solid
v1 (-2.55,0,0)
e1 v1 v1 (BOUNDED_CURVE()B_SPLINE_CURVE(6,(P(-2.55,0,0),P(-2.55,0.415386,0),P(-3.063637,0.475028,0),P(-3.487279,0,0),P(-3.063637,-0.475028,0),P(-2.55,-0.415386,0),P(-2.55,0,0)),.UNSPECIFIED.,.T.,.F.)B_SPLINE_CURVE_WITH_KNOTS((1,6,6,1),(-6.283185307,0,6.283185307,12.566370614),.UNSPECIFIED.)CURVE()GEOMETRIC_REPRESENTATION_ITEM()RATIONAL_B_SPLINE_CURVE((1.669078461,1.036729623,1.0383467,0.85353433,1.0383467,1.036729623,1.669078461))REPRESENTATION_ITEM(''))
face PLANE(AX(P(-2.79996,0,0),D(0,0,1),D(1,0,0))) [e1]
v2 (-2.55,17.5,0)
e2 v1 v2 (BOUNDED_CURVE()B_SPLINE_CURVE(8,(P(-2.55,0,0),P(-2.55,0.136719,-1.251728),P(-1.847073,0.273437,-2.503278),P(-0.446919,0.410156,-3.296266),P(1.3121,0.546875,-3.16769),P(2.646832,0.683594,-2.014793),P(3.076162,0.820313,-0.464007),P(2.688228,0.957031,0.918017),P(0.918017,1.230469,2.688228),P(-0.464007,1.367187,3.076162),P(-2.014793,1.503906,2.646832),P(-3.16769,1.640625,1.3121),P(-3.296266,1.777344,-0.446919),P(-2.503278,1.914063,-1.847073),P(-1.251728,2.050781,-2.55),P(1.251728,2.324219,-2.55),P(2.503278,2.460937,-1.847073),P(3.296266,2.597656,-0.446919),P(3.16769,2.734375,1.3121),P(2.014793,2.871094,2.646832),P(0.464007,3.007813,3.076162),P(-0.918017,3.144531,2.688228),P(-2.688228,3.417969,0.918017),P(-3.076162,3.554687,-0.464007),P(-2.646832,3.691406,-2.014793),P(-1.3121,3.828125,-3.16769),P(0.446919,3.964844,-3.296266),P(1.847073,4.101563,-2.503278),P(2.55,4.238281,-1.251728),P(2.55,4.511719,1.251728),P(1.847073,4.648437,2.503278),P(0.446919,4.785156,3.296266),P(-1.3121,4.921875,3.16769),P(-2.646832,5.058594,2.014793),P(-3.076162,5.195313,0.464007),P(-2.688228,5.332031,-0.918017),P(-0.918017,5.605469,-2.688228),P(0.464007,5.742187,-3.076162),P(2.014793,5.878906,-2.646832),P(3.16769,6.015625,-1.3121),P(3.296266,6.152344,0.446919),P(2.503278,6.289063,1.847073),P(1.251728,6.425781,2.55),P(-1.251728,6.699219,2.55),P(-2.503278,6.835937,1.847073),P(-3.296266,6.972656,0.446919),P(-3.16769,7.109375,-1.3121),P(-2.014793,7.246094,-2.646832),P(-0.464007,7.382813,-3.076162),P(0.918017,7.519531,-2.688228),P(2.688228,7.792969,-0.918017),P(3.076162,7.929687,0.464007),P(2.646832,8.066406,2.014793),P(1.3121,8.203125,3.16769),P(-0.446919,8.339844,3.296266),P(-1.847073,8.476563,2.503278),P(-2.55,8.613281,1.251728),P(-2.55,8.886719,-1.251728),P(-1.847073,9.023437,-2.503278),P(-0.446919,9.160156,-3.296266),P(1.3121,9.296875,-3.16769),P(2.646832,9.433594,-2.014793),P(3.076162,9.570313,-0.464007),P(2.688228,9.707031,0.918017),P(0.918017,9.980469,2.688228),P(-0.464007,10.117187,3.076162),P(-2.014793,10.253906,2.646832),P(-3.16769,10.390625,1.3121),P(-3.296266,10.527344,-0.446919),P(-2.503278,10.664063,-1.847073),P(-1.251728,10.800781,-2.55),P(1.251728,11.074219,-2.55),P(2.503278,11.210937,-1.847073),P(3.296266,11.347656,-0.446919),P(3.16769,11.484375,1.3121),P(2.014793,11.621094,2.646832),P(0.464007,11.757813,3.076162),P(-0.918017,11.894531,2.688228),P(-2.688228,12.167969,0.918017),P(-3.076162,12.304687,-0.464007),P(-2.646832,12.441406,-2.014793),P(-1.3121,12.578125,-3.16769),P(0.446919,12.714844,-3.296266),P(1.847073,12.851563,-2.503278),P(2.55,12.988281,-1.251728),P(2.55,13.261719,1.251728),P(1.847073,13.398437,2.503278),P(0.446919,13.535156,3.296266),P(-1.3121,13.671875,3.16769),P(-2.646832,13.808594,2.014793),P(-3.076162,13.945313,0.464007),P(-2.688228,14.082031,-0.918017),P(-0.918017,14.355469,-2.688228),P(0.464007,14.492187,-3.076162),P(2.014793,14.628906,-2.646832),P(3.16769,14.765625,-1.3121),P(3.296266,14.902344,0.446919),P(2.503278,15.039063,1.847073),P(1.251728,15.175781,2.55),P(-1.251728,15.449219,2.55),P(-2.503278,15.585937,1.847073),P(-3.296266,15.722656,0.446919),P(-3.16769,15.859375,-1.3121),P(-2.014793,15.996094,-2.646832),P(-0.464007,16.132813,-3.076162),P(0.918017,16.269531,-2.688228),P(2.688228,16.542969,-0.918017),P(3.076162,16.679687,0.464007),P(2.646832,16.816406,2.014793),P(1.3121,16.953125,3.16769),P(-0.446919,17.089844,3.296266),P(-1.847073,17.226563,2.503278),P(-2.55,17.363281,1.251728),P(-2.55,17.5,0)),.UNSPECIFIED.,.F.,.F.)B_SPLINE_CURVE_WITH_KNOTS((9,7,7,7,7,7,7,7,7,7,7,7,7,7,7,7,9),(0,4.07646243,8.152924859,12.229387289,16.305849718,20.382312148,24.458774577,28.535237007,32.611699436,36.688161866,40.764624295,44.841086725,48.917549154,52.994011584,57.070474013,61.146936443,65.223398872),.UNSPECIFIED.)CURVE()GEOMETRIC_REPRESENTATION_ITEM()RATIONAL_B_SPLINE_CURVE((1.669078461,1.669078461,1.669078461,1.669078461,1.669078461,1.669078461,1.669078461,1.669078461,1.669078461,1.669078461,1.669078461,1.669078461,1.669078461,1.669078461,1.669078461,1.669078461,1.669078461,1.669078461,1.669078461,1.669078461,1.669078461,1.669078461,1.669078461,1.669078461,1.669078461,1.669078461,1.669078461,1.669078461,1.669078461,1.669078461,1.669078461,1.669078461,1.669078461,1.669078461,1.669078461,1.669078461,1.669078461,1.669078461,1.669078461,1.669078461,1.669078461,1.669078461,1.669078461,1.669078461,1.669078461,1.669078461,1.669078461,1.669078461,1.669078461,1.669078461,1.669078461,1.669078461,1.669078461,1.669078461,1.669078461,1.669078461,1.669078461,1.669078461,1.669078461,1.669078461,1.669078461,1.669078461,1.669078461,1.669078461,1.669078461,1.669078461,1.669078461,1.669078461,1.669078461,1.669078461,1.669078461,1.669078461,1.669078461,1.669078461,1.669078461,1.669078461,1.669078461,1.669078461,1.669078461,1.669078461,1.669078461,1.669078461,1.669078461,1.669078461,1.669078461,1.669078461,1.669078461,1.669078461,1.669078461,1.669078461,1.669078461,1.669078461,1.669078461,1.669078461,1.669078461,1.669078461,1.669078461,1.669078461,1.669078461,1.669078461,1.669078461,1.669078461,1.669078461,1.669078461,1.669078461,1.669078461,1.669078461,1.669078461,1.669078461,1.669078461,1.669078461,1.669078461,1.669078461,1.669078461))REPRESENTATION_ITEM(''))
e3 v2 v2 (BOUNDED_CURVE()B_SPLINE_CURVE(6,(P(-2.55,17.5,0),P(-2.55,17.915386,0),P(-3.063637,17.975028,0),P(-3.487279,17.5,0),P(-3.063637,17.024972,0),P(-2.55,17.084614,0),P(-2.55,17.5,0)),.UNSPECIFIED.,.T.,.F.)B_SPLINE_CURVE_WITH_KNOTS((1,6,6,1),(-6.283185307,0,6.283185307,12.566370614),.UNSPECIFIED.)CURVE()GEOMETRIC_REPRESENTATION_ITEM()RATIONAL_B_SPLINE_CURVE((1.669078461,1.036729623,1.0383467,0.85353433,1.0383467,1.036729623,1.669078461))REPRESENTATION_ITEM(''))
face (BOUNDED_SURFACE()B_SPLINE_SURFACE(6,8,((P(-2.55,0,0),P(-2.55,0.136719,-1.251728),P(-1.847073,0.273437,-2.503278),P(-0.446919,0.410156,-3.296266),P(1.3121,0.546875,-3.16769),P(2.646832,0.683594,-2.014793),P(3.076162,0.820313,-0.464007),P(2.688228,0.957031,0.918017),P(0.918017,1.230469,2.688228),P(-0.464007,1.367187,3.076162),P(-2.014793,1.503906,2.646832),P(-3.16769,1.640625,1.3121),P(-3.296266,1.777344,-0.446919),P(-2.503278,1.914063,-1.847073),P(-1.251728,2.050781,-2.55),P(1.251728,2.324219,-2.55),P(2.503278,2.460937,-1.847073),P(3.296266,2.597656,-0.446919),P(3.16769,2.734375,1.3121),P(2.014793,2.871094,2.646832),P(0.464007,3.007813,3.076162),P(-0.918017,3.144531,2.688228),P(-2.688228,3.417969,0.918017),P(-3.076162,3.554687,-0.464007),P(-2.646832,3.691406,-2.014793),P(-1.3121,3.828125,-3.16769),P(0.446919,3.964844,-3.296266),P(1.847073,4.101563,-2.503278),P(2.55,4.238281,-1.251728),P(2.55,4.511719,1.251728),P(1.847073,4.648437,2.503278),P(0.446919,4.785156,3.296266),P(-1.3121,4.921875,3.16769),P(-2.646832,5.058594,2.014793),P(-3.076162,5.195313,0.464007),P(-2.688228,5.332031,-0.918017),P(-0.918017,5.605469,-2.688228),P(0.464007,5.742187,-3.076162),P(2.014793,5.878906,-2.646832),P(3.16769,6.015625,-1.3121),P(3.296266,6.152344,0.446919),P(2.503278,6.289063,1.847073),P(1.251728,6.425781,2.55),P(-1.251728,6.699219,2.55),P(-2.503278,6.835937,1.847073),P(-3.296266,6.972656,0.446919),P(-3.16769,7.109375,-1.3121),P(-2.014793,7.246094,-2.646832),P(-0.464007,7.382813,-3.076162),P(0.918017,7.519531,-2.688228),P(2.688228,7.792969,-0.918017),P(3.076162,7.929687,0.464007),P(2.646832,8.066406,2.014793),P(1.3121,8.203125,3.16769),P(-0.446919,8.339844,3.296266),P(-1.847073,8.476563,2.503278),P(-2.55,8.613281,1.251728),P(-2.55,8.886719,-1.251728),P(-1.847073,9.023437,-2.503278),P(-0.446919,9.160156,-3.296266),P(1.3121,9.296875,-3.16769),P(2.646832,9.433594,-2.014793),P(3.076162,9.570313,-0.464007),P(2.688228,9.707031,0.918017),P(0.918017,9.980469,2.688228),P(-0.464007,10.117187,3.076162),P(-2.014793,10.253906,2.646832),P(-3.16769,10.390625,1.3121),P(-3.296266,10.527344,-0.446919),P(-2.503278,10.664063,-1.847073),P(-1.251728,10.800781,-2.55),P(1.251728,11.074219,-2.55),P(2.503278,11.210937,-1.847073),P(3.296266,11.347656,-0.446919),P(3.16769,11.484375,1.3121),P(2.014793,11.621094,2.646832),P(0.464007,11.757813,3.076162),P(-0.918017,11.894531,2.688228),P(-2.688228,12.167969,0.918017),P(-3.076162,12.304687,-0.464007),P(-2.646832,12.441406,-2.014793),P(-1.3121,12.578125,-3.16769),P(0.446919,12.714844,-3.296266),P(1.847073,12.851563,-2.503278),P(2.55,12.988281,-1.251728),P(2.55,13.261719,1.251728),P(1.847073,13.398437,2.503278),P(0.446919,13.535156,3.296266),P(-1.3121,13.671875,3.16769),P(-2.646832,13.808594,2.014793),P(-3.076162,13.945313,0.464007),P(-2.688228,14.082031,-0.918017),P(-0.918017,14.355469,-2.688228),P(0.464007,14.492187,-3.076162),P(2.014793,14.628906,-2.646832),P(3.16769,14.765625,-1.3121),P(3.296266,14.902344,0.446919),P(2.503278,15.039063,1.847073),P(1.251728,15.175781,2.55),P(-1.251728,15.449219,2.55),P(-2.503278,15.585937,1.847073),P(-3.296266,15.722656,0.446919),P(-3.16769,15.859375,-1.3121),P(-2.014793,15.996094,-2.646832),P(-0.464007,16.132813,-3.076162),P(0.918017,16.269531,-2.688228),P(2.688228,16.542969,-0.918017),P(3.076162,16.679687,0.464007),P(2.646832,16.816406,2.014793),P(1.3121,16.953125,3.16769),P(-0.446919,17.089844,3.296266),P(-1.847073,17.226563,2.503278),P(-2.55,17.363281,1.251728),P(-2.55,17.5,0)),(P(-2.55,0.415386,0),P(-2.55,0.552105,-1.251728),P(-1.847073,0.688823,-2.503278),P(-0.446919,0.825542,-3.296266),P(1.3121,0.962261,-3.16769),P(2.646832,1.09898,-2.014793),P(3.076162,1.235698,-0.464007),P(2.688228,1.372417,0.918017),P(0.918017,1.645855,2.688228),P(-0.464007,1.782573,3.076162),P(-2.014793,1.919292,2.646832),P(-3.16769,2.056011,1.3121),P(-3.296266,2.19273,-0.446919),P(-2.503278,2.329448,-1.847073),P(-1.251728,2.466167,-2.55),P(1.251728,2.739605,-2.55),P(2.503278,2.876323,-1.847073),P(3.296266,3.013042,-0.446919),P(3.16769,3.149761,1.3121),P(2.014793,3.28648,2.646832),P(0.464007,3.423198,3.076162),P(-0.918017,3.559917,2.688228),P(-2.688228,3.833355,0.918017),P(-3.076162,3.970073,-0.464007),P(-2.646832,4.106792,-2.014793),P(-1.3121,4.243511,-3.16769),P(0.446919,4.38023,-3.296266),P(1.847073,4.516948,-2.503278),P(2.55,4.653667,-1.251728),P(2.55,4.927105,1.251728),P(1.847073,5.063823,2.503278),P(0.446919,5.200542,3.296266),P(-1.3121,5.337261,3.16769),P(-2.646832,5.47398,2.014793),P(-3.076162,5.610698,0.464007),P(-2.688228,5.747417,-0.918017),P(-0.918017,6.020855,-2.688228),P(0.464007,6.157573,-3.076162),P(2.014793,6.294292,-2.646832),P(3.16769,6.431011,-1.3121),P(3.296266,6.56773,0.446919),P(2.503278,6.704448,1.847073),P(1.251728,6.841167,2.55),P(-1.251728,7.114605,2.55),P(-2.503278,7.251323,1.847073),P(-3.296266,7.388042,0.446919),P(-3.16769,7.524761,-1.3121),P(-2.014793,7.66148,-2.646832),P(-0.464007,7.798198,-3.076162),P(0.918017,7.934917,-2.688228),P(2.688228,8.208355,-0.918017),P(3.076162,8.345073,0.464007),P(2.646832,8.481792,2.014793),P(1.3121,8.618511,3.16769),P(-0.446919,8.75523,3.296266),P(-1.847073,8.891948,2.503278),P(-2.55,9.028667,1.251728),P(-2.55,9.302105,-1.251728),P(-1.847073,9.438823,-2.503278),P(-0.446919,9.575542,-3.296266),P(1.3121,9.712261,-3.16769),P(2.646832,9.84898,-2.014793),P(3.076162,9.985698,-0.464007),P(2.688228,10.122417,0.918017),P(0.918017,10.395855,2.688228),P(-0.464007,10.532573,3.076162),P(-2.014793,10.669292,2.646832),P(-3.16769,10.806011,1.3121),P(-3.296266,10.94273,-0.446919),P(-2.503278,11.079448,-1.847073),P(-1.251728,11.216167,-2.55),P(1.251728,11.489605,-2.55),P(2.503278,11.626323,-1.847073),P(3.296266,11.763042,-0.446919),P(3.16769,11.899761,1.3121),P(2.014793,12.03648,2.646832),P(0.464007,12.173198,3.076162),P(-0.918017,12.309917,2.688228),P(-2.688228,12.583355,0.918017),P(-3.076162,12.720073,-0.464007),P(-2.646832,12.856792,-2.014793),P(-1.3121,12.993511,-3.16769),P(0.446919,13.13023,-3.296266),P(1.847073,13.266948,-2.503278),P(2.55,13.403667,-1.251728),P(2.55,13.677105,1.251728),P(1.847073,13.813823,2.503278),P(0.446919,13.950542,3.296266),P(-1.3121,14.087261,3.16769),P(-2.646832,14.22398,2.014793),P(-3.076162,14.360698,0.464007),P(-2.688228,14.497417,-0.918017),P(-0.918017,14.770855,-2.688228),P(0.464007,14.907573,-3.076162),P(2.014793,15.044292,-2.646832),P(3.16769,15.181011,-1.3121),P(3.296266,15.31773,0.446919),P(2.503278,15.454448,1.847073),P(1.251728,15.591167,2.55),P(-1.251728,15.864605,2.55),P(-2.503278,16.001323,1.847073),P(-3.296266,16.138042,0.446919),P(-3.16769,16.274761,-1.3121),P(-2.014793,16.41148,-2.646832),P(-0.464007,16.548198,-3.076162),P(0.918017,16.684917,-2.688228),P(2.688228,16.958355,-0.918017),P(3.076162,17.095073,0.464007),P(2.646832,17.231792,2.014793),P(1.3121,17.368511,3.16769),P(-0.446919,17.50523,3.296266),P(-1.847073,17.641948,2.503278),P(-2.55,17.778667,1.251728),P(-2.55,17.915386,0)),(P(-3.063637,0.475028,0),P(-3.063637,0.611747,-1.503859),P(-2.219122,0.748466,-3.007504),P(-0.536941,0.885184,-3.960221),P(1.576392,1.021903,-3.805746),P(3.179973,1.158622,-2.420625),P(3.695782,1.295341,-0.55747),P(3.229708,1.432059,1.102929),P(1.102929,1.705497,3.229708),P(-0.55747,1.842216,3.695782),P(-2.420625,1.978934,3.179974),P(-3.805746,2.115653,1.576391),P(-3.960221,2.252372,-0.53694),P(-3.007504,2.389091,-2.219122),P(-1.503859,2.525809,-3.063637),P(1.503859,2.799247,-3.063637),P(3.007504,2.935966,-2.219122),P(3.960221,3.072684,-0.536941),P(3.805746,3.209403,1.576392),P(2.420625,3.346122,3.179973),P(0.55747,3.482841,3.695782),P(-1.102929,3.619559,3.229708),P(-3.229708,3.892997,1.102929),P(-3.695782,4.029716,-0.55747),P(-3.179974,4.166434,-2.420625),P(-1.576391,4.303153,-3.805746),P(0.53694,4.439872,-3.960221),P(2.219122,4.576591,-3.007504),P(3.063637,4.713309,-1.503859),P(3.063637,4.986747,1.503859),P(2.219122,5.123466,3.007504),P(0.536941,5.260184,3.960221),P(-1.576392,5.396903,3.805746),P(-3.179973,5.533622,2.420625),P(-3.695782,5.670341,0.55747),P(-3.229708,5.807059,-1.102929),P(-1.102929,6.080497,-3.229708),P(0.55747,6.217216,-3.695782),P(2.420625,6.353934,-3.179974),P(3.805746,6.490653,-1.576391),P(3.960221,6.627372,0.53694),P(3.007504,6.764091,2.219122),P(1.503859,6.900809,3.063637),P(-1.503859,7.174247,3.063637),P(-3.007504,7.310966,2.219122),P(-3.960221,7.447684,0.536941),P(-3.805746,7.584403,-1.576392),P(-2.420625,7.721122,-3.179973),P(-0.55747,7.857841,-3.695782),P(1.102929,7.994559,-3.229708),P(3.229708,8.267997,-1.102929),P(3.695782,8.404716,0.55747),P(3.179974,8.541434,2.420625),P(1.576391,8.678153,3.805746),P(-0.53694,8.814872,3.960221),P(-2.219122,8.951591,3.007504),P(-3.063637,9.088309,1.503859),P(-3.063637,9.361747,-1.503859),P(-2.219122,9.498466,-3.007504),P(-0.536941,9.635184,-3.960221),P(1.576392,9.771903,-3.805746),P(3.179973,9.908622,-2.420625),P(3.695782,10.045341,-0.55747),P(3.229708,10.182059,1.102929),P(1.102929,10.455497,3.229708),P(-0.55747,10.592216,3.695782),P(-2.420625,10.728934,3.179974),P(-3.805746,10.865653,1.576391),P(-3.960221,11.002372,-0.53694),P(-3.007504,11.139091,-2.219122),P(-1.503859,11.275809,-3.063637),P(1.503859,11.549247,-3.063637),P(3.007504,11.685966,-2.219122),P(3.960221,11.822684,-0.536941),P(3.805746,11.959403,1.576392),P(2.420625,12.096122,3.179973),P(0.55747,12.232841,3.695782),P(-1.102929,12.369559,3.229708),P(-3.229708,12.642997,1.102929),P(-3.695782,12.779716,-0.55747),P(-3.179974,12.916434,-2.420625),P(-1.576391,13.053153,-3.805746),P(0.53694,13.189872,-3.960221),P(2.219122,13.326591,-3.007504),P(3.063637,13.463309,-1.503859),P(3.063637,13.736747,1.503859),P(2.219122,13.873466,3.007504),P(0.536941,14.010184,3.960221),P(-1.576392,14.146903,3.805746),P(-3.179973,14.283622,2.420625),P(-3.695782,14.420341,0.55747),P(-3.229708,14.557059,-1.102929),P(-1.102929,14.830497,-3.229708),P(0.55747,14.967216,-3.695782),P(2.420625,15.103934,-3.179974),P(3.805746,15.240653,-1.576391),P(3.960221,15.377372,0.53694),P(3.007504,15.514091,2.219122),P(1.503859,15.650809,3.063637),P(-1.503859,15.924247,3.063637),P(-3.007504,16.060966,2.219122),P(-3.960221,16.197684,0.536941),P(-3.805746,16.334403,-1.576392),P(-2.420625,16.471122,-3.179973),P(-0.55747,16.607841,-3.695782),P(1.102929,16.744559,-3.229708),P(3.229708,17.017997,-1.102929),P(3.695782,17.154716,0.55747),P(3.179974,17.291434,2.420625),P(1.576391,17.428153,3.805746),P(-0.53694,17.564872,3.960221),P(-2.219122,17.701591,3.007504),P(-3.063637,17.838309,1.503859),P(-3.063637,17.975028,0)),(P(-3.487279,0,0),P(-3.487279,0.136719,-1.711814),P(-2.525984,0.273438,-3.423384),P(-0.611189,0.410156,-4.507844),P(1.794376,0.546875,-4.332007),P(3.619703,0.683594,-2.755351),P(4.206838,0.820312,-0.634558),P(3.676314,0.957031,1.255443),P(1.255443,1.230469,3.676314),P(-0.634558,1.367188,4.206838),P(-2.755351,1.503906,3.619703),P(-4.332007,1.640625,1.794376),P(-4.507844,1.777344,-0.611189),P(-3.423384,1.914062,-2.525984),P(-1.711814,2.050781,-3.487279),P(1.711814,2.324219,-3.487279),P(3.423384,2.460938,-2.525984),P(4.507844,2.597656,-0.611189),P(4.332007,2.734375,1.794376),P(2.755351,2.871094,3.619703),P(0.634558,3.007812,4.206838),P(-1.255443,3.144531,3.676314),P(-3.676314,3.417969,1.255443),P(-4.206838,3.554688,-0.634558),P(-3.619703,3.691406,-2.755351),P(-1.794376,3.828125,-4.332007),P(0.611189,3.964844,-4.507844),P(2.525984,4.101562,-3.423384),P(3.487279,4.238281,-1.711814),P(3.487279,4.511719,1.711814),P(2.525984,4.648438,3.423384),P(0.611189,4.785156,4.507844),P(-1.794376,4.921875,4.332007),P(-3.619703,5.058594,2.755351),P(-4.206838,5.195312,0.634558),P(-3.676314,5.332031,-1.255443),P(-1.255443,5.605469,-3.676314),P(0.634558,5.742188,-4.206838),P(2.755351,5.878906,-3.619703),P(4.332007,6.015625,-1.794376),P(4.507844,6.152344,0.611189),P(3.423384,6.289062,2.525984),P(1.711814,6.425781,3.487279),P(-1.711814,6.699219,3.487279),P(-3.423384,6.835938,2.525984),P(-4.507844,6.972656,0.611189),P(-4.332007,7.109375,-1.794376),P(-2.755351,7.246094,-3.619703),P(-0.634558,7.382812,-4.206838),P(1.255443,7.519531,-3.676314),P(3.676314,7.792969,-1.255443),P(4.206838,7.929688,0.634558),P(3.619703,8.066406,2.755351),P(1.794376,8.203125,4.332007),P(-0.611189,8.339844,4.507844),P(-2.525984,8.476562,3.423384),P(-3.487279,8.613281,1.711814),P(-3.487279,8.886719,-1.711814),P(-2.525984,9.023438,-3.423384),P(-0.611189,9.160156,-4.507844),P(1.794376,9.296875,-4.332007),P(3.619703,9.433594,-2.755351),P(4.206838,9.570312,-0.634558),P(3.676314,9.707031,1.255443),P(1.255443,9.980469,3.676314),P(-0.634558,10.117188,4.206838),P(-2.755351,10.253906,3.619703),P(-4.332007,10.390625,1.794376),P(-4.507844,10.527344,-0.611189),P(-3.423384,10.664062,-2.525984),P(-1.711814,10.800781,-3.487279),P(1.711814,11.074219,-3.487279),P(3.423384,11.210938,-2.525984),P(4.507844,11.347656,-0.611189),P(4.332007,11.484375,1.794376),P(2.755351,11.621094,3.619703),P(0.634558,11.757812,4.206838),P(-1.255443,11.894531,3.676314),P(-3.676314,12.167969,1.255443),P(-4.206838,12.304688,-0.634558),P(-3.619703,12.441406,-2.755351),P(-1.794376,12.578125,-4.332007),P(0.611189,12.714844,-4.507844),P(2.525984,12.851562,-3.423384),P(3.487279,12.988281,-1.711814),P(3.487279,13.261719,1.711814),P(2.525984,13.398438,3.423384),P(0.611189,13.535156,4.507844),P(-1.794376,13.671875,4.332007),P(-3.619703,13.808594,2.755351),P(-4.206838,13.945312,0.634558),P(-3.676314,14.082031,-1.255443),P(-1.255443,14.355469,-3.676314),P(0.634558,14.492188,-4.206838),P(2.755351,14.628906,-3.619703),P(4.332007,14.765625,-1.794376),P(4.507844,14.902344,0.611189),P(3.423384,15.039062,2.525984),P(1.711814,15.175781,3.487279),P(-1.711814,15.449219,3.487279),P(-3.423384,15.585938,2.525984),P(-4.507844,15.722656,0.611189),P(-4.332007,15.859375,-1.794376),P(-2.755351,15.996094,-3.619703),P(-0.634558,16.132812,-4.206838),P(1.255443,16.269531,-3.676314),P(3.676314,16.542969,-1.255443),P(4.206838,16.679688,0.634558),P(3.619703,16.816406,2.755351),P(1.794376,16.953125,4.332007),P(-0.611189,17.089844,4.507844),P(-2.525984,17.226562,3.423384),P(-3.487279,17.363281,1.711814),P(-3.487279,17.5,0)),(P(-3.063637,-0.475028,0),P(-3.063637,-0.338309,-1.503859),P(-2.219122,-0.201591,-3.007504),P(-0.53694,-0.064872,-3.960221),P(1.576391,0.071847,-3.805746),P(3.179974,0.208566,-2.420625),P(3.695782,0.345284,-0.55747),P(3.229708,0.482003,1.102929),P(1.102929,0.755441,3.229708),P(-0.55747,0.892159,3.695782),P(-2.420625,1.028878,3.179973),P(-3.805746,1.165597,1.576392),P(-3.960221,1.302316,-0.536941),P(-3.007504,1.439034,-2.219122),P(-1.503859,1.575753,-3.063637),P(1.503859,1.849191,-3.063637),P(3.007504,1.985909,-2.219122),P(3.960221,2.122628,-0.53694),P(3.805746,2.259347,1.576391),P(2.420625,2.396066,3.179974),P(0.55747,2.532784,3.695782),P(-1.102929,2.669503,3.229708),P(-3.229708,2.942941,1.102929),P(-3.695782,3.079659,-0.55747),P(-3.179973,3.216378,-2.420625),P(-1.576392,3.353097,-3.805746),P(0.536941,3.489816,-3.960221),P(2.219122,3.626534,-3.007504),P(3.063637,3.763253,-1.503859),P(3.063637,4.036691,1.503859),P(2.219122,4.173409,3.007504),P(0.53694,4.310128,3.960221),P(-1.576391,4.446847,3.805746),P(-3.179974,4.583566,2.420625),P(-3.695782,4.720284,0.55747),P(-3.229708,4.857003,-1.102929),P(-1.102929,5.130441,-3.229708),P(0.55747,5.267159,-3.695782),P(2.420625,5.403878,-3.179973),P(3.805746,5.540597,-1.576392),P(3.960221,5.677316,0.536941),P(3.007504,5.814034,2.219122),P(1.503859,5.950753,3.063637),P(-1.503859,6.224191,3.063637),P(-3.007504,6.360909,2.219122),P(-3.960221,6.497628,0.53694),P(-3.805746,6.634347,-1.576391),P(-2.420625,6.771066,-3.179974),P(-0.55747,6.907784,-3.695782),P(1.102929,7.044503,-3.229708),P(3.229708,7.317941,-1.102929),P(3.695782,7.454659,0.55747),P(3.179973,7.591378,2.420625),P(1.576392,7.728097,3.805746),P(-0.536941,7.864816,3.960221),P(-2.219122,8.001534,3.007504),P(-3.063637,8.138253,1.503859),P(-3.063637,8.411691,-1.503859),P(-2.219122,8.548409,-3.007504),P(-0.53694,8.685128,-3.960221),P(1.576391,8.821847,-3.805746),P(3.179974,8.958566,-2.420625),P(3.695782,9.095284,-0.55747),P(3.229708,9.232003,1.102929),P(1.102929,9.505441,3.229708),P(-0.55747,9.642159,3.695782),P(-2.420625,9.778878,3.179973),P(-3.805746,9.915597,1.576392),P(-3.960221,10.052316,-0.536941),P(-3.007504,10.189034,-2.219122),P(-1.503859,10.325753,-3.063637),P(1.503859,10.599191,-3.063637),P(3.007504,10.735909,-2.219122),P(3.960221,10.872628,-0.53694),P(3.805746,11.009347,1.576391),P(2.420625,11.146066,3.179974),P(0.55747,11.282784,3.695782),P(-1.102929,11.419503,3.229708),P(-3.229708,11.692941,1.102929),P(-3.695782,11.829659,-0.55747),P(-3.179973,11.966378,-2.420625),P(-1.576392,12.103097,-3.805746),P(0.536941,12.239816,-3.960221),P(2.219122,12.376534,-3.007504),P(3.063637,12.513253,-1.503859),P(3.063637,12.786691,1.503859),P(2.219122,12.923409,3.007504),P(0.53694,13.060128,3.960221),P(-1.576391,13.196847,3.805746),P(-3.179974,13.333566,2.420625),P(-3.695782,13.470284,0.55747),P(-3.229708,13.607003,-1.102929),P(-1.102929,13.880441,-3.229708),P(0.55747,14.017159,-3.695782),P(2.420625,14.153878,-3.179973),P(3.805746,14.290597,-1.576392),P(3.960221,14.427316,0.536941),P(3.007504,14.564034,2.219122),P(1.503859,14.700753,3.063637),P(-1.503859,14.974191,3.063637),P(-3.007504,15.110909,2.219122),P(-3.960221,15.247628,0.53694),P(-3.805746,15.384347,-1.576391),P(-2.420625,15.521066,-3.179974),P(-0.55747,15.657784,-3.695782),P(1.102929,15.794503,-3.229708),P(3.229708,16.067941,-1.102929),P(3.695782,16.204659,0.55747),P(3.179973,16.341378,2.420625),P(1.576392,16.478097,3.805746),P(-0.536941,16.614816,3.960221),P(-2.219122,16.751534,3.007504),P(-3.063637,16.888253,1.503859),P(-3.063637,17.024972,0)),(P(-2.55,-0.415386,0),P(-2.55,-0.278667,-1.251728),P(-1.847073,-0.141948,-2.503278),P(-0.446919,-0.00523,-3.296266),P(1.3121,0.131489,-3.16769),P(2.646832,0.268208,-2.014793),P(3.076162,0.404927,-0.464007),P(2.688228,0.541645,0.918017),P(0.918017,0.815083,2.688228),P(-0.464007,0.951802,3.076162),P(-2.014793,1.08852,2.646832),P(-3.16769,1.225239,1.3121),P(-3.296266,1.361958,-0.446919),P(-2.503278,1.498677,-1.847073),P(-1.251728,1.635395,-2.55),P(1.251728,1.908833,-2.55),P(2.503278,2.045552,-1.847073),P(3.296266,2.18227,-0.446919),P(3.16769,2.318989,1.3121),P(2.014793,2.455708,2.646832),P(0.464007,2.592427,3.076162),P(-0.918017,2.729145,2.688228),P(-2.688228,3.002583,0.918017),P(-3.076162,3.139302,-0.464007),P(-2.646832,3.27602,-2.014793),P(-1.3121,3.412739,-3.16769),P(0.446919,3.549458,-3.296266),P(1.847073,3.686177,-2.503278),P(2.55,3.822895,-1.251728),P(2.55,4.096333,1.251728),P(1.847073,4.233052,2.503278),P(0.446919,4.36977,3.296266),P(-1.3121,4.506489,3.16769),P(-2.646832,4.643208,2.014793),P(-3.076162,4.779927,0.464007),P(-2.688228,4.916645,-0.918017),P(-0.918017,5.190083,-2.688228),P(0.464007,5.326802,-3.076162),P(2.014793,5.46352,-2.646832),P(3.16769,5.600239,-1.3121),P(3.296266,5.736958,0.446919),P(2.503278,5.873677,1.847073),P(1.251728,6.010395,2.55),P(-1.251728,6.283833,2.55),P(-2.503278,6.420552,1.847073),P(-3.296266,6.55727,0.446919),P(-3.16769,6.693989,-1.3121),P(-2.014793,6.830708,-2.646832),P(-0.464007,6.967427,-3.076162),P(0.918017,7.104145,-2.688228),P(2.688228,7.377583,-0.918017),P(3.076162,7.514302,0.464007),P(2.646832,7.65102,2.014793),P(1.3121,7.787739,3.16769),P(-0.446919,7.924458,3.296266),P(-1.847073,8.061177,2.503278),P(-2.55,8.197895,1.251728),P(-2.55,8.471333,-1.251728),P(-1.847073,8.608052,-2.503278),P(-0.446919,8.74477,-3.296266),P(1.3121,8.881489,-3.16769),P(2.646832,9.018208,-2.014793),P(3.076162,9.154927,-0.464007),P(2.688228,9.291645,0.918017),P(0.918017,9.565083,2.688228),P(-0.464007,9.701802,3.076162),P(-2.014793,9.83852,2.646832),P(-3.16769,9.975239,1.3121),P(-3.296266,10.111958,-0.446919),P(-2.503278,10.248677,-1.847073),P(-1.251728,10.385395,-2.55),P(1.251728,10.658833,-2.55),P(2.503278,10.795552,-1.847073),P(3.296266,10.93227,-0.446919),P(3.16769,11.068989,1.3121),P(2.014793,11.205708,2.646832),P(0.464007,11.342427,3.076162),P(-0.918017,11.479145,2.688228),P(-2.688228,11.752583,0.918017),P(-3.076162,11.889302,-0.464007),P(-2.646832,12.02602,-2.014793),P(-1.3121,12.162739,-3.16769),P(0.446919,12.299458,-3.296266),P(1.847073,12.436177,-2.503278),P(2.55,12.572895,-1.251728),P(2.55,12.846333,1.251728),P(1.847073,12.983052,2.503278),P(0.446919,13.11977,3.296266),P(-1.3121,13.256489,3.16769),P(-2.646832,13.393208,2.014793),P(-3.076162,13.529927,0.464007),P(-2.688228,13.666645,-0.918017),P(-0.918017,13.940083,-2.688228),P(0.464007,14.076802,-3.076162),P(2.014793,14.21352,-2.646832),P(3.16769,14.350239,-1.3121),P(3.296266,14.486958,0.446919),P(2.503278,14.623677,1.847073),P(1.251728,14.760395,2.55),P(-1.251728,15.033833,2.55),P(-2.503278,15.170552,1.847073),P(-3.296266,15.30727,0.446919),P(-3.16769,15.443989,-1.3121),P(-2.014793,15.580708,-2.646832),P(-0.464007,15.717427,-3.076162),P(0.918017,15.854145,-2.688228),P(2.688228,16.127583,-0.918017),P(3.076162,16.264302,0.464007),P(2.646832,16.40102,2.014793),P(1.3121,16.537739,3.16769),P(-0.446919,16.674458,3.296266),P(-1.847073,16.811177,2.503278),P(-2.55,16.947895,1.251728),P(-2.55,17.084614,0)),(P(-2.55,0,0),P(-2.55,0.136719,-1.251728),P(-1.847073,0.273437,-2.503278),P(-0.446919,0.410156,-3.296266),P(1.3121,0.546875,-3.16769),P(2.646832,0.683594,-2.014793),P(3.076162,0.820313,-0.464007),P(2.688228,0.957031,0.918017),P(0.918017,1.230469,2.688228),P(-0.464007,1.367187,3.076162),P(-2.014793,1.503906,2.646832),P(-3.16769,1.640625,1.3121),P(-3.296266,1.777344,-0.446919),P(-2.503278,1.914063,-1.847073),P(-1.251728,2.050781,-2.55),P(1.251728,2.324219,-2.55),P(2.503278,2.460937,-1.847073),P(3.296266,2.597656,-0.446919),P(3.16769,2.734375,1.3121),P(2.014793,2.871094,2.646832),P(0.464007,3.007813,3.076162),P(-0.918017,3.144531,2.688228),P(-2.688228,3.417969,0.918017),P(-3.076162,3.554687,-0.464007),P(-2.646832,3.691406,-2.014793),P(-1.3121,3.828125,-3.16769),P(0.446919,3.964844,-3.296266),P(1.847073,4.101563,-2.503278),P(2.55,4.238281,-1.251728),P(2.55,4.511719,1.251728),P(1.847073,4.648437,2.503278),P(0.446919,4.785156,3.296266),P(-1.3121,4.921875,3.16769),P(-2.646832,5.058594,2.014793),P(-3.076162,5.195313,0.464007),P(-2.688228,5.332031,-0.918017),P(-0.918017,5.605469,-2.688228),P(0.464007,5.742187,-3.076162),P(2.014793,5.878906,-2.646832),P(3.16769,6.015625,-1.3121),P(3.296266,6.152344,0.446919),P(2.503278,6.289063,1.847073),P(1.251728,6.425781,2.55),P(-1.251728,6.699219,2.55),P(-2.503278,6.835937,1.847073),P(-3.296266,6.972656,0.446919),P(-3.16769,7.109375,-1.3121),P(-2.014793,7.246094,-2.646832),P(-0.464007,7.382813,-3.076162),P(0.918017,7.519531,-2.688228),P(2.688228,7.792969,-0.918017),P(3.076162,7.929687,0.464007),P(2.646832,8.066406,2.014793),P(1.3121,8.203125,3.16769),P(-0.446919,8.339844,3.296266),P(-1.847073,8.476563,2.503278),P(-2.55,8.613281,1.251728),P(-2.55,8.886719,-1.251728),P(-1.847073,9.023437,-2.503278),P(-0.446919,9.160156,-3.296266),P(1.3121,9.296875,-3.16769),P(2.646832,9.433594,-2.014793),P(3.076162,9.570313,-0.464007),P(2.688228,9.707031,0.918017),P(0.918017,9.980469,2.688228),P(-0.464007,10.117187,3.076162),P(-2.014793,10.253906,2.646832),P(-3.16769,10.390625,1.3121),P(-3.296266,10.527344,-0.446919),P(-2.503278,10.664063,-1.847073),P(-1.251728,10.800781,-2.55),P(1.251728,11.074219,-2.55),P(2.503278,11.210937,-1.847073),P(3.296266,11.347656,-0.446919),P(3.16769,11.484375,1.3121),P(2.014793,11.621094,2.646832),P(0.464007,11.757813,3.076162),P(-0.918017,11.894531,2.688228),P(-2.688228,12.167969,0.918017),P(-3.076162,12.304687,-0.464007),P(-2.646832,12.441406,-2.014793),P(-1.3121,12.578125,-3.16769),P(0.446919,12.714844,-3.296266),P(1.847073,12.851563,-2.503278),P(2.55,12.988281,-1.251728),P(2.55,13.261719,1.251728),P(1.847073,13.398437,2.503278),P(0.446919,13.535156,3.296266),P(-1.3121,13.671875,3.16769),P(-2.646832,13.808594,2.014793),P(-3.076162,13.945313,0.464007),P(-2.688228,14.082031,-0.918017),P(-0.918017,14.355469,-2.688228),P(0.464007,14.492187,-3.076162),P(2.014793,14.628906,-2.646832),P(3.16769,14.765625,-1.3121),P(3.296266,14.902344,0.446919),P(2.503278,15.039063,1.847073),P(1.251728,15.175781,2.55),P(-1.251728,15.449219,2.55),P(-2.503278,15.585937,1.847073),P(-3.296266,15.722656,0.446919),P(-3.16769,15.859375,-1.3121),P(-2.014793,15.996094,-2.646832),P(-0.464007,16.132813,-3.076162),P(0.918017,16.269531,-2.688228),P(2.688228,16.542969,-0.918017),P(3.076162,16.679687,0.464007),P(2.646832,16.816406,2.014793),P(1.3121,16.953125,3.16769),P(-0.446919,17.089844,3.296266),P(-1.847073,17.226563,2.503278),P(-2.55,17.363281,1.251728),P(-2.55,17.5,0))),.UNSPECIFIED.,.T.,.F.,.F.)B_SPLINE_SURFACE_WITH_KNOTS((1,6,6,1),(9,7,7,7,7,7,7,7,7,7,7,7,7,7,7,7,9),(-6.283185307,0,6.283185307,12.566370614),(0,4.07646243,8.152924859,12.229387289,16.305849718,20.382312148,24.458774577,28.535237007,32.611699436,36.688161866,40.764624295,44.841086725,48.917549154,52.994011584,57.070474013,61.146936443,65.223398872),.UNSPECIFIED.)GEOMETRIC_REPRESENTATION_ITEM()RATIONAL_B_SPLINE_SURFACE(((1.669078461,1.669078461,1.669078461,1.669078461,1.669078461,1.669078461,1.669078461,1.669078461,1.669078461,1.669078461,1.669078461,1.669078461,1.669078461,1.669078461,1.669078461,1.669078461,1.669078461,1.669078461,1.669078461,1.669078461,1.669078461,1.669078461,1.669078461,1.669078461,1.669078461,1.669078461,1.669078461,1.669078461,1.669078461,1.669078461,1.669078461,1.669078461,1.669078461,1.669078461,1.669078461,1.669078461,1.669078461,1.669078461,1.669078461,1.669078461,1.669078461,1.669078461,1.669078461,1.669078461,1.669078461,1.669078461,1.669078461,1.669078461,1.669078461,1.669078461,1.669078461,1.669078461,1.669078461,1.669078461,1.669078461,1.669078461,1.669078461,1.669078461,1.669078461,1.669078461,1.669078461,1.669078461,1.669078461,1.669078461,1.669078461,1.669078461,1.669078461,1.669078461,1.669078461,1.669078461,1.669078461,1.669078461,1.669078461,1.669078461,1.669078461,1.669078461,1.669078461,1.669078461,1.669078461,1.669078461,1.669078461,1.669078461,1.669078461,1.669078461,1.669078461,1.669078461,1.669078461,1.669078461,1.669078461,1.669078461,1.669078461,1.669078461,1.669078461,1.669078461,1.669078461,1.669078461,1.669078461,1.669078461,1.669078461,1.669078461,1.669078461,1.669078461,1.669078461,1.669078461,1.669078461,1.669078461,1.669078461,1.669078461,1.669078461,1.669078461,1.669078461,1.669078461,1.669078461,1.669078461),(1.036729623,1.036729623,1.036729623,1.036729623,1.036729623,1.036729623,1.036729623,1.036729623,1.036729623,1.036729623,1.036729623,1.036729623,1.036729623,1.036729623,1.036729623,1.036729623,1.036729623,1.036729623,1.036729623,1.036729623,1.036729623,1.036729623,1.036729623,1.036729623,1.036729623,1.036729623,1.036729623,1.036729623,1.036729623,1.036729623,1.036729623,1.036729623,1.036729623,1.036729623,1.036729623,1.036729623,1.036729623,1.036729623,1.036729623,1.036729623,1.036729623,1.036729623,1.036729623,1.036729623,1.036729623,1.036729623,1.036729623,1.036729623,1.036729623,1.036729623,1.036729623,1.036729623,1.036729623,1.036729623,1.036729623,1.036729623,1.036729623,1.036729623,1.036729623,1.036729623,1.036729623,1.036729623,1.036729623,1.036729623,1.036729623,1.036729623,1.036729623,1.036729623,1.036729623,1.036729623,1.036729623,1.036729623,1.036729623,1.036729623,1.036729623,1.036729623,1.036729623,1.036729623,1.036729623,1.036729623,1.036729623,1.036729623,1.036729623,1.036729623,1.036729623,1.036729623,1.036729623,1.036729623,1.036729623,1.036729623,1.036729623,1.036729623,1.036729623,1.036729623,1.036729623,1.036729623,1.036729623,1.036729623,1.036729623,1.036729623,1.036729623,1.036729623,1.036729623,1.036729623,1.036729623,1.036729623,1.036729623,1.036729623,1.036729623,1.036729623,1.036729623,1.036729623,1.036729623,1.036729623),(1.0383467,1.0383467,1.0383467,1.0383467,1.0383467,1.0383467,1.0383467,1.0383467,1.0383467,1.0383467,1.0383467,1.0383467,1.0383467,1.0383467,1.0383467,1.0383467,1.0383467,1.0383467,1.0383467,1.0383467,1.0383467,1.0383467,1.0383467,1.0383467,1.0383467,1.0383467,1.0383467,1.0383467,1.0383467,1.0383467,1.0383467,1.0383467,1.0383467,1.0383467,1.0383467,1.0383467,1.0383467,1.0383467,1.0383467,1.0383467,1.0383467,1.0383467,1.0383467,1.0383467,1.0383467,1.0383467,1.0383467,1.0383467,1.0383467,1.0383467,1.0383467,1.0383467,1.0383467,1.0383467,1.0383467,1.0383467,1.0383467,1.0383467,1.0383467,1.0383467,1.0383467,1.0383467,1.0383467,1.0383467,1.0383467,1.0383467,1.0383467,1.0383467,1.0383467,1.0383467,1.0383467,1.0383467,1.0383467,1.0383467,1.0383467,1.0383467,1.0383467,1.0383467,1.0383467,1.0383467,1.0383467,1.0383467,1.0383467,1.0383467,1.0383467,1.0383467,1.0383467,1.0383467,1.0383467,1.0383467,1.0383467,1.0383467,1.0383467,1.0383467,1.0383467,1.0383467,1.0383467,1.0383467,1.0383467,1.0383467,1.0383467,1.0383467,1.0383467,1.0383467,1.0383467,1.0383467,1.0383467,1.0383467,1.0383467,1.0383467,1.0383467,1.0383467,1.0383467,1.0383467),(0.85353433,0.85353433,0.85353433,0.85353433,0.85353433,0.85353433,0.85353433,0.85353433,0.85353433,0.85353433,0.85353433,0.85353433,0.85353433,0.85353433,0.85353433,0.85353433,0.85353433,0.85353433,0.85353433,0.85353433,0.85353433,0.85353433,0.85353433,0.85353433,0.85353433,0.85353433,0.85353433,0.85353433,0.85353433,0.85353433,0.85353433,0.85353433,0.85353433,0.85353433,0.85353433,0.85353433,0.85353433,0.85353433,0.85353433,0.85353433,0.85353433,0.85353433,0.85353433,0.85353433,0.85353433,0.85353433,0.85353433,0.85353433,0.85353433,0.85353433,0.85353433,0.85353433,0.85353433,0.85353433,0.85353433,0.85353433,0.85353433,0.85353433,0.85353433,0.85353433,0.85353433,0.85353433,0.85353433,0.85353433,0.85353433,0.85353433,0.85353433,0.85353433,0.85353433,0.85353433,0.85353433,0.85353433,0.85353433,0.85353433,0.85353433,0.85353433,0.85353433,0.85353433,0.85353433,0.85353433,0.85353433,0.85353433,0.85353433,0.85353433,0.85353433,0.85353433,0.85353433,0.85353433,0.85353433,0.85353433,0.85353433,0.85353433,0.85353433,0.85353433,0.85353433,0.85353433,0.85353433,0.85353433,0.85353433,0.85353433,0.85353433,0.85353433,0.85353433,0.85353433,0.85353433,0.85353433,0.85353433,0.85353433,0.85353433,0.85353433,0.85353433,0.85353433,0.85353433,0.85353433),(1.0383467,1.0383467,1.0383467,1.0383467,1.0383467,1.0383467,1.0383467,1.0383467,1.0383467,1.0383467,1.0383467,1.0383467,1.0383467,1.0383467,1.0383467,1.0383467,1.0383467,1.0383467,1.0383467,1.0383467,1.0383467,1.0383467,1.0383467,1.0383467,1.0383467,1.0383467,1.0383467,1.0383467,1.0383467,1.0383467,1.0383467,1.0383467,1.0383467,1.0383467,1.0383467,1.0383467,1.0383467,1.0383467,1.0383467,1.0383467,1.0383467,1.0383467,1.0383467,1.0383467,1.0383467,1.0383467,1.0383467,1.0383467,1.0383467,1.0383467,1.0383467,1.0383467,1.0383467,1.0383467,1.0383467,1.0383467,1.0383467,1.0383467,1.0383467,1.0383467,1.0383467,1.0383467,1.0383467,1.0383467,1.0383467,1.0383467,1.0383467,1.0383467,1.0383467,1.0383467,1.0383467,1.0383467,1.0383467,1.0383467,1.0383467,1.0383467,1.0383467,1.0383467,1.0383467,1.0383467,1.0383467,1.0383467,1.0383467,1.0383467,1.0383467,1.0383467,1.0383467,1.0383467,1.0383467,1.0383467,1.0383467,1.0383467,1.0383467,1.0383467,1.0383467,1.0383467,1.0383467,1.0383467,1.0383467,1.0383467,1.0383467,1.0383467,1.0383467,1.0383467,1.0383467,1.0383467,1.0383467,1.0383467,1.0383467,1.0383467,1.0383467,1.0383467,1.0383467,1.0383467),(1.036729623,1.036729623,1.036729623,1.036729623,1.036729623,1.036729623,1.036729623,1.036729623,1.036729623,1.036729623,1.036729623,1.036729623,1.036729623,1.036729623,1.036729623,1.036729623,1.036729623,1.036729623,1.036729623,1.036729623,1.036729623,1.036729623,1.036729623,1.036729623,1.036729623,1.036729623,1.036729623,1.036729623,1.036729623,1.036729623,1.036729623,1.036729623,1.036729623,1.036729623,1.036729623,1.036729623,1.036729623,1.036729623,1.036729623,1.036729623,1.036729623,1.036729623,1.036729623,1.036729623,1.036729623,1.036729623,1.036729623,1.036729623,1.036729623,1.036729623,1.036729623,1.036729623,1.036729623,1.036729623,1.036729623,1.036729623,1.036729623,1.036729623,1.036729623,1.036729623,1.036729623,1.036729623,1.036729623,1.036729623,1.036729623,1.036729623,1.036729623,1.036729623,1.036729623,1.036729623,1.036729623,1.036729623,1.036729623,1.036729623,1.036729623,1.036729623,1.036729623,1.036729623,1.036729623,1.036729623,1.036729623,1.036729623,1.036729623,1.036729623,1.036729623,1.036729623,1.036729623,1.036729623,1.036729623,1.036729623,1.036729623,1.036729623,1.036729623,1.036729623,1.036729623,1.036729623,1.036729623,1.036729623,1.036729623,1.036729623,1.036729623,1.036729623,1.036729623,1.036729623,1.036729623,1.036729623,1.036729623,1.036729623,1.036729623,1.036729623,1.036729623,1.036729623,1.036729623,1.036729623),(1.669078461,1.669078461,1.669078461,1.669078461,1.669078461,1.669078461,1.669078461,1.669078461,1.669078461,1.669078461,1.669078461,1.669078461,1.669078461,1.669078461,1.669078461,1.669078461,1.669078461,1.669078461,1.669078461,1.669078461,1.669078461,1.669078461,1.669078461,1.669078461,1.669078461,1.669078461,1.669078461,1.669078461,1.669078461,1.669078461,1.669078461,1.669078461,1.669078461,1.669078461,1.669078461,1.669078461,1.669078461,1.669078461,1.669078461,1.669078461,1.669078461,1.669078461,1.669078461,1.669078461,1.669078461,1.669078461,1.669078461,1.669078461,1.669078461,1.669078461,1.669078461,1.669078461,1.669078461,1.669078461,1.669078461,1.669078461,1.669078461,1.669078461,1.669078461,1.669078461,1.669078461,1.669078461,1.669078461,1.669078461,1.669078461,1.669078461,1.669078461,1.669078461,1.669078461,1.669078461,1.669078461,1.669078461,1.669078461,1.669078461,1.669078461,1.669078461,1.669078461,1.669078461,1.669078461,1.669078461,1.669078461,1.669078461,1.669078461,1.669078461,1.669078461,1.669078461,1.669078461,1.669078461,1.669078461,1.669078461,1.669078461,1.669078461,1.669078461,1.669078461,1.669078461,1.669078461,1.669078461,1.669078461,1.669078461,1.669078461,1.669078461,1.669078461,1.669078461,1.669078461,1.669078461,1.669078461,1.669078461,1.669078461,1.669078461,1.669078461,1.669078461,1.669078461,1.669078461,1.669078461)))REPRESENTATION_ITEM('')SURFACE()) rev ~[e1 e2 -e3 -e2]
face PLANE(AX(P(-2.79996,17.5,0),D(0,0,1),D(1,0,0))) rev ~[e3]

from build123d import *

# Parameters (mm, degrees)
SWEEP1_PITCH       = 1.75
SWEEP1_HEIGHT      = 17.5
SWEEP1_RADIUS      = 2.8
SWEEP1_START_ANGLE = -90
SKETCH2_R          = 0.25


with BuildPart() as part:
    # Sweep1: sweep along a helix
    with BuildLine() as sweep1_path:
        add(Helix(SWEEP1_PITCH, SWEEP1_HEIGHT, SWEEP1_RADIUS, center=(0, 0, 0), direction=(0, 1, 0), lefthand=True, mode=Mode.PRIVATE).rotate(Axis((0, 0, 0), (0, 1, 0)), SWEEP1_START_ANGLE))
    # Sketch2 → Sweep1 (sweep)
    with BuildSketch(Plane.XY):
        with Locations((-2.8, 0)):
            Circle(SKETCH2_R)
    sweep(path=sweep1_path.line, is_frenet=True)


solid = part.part
